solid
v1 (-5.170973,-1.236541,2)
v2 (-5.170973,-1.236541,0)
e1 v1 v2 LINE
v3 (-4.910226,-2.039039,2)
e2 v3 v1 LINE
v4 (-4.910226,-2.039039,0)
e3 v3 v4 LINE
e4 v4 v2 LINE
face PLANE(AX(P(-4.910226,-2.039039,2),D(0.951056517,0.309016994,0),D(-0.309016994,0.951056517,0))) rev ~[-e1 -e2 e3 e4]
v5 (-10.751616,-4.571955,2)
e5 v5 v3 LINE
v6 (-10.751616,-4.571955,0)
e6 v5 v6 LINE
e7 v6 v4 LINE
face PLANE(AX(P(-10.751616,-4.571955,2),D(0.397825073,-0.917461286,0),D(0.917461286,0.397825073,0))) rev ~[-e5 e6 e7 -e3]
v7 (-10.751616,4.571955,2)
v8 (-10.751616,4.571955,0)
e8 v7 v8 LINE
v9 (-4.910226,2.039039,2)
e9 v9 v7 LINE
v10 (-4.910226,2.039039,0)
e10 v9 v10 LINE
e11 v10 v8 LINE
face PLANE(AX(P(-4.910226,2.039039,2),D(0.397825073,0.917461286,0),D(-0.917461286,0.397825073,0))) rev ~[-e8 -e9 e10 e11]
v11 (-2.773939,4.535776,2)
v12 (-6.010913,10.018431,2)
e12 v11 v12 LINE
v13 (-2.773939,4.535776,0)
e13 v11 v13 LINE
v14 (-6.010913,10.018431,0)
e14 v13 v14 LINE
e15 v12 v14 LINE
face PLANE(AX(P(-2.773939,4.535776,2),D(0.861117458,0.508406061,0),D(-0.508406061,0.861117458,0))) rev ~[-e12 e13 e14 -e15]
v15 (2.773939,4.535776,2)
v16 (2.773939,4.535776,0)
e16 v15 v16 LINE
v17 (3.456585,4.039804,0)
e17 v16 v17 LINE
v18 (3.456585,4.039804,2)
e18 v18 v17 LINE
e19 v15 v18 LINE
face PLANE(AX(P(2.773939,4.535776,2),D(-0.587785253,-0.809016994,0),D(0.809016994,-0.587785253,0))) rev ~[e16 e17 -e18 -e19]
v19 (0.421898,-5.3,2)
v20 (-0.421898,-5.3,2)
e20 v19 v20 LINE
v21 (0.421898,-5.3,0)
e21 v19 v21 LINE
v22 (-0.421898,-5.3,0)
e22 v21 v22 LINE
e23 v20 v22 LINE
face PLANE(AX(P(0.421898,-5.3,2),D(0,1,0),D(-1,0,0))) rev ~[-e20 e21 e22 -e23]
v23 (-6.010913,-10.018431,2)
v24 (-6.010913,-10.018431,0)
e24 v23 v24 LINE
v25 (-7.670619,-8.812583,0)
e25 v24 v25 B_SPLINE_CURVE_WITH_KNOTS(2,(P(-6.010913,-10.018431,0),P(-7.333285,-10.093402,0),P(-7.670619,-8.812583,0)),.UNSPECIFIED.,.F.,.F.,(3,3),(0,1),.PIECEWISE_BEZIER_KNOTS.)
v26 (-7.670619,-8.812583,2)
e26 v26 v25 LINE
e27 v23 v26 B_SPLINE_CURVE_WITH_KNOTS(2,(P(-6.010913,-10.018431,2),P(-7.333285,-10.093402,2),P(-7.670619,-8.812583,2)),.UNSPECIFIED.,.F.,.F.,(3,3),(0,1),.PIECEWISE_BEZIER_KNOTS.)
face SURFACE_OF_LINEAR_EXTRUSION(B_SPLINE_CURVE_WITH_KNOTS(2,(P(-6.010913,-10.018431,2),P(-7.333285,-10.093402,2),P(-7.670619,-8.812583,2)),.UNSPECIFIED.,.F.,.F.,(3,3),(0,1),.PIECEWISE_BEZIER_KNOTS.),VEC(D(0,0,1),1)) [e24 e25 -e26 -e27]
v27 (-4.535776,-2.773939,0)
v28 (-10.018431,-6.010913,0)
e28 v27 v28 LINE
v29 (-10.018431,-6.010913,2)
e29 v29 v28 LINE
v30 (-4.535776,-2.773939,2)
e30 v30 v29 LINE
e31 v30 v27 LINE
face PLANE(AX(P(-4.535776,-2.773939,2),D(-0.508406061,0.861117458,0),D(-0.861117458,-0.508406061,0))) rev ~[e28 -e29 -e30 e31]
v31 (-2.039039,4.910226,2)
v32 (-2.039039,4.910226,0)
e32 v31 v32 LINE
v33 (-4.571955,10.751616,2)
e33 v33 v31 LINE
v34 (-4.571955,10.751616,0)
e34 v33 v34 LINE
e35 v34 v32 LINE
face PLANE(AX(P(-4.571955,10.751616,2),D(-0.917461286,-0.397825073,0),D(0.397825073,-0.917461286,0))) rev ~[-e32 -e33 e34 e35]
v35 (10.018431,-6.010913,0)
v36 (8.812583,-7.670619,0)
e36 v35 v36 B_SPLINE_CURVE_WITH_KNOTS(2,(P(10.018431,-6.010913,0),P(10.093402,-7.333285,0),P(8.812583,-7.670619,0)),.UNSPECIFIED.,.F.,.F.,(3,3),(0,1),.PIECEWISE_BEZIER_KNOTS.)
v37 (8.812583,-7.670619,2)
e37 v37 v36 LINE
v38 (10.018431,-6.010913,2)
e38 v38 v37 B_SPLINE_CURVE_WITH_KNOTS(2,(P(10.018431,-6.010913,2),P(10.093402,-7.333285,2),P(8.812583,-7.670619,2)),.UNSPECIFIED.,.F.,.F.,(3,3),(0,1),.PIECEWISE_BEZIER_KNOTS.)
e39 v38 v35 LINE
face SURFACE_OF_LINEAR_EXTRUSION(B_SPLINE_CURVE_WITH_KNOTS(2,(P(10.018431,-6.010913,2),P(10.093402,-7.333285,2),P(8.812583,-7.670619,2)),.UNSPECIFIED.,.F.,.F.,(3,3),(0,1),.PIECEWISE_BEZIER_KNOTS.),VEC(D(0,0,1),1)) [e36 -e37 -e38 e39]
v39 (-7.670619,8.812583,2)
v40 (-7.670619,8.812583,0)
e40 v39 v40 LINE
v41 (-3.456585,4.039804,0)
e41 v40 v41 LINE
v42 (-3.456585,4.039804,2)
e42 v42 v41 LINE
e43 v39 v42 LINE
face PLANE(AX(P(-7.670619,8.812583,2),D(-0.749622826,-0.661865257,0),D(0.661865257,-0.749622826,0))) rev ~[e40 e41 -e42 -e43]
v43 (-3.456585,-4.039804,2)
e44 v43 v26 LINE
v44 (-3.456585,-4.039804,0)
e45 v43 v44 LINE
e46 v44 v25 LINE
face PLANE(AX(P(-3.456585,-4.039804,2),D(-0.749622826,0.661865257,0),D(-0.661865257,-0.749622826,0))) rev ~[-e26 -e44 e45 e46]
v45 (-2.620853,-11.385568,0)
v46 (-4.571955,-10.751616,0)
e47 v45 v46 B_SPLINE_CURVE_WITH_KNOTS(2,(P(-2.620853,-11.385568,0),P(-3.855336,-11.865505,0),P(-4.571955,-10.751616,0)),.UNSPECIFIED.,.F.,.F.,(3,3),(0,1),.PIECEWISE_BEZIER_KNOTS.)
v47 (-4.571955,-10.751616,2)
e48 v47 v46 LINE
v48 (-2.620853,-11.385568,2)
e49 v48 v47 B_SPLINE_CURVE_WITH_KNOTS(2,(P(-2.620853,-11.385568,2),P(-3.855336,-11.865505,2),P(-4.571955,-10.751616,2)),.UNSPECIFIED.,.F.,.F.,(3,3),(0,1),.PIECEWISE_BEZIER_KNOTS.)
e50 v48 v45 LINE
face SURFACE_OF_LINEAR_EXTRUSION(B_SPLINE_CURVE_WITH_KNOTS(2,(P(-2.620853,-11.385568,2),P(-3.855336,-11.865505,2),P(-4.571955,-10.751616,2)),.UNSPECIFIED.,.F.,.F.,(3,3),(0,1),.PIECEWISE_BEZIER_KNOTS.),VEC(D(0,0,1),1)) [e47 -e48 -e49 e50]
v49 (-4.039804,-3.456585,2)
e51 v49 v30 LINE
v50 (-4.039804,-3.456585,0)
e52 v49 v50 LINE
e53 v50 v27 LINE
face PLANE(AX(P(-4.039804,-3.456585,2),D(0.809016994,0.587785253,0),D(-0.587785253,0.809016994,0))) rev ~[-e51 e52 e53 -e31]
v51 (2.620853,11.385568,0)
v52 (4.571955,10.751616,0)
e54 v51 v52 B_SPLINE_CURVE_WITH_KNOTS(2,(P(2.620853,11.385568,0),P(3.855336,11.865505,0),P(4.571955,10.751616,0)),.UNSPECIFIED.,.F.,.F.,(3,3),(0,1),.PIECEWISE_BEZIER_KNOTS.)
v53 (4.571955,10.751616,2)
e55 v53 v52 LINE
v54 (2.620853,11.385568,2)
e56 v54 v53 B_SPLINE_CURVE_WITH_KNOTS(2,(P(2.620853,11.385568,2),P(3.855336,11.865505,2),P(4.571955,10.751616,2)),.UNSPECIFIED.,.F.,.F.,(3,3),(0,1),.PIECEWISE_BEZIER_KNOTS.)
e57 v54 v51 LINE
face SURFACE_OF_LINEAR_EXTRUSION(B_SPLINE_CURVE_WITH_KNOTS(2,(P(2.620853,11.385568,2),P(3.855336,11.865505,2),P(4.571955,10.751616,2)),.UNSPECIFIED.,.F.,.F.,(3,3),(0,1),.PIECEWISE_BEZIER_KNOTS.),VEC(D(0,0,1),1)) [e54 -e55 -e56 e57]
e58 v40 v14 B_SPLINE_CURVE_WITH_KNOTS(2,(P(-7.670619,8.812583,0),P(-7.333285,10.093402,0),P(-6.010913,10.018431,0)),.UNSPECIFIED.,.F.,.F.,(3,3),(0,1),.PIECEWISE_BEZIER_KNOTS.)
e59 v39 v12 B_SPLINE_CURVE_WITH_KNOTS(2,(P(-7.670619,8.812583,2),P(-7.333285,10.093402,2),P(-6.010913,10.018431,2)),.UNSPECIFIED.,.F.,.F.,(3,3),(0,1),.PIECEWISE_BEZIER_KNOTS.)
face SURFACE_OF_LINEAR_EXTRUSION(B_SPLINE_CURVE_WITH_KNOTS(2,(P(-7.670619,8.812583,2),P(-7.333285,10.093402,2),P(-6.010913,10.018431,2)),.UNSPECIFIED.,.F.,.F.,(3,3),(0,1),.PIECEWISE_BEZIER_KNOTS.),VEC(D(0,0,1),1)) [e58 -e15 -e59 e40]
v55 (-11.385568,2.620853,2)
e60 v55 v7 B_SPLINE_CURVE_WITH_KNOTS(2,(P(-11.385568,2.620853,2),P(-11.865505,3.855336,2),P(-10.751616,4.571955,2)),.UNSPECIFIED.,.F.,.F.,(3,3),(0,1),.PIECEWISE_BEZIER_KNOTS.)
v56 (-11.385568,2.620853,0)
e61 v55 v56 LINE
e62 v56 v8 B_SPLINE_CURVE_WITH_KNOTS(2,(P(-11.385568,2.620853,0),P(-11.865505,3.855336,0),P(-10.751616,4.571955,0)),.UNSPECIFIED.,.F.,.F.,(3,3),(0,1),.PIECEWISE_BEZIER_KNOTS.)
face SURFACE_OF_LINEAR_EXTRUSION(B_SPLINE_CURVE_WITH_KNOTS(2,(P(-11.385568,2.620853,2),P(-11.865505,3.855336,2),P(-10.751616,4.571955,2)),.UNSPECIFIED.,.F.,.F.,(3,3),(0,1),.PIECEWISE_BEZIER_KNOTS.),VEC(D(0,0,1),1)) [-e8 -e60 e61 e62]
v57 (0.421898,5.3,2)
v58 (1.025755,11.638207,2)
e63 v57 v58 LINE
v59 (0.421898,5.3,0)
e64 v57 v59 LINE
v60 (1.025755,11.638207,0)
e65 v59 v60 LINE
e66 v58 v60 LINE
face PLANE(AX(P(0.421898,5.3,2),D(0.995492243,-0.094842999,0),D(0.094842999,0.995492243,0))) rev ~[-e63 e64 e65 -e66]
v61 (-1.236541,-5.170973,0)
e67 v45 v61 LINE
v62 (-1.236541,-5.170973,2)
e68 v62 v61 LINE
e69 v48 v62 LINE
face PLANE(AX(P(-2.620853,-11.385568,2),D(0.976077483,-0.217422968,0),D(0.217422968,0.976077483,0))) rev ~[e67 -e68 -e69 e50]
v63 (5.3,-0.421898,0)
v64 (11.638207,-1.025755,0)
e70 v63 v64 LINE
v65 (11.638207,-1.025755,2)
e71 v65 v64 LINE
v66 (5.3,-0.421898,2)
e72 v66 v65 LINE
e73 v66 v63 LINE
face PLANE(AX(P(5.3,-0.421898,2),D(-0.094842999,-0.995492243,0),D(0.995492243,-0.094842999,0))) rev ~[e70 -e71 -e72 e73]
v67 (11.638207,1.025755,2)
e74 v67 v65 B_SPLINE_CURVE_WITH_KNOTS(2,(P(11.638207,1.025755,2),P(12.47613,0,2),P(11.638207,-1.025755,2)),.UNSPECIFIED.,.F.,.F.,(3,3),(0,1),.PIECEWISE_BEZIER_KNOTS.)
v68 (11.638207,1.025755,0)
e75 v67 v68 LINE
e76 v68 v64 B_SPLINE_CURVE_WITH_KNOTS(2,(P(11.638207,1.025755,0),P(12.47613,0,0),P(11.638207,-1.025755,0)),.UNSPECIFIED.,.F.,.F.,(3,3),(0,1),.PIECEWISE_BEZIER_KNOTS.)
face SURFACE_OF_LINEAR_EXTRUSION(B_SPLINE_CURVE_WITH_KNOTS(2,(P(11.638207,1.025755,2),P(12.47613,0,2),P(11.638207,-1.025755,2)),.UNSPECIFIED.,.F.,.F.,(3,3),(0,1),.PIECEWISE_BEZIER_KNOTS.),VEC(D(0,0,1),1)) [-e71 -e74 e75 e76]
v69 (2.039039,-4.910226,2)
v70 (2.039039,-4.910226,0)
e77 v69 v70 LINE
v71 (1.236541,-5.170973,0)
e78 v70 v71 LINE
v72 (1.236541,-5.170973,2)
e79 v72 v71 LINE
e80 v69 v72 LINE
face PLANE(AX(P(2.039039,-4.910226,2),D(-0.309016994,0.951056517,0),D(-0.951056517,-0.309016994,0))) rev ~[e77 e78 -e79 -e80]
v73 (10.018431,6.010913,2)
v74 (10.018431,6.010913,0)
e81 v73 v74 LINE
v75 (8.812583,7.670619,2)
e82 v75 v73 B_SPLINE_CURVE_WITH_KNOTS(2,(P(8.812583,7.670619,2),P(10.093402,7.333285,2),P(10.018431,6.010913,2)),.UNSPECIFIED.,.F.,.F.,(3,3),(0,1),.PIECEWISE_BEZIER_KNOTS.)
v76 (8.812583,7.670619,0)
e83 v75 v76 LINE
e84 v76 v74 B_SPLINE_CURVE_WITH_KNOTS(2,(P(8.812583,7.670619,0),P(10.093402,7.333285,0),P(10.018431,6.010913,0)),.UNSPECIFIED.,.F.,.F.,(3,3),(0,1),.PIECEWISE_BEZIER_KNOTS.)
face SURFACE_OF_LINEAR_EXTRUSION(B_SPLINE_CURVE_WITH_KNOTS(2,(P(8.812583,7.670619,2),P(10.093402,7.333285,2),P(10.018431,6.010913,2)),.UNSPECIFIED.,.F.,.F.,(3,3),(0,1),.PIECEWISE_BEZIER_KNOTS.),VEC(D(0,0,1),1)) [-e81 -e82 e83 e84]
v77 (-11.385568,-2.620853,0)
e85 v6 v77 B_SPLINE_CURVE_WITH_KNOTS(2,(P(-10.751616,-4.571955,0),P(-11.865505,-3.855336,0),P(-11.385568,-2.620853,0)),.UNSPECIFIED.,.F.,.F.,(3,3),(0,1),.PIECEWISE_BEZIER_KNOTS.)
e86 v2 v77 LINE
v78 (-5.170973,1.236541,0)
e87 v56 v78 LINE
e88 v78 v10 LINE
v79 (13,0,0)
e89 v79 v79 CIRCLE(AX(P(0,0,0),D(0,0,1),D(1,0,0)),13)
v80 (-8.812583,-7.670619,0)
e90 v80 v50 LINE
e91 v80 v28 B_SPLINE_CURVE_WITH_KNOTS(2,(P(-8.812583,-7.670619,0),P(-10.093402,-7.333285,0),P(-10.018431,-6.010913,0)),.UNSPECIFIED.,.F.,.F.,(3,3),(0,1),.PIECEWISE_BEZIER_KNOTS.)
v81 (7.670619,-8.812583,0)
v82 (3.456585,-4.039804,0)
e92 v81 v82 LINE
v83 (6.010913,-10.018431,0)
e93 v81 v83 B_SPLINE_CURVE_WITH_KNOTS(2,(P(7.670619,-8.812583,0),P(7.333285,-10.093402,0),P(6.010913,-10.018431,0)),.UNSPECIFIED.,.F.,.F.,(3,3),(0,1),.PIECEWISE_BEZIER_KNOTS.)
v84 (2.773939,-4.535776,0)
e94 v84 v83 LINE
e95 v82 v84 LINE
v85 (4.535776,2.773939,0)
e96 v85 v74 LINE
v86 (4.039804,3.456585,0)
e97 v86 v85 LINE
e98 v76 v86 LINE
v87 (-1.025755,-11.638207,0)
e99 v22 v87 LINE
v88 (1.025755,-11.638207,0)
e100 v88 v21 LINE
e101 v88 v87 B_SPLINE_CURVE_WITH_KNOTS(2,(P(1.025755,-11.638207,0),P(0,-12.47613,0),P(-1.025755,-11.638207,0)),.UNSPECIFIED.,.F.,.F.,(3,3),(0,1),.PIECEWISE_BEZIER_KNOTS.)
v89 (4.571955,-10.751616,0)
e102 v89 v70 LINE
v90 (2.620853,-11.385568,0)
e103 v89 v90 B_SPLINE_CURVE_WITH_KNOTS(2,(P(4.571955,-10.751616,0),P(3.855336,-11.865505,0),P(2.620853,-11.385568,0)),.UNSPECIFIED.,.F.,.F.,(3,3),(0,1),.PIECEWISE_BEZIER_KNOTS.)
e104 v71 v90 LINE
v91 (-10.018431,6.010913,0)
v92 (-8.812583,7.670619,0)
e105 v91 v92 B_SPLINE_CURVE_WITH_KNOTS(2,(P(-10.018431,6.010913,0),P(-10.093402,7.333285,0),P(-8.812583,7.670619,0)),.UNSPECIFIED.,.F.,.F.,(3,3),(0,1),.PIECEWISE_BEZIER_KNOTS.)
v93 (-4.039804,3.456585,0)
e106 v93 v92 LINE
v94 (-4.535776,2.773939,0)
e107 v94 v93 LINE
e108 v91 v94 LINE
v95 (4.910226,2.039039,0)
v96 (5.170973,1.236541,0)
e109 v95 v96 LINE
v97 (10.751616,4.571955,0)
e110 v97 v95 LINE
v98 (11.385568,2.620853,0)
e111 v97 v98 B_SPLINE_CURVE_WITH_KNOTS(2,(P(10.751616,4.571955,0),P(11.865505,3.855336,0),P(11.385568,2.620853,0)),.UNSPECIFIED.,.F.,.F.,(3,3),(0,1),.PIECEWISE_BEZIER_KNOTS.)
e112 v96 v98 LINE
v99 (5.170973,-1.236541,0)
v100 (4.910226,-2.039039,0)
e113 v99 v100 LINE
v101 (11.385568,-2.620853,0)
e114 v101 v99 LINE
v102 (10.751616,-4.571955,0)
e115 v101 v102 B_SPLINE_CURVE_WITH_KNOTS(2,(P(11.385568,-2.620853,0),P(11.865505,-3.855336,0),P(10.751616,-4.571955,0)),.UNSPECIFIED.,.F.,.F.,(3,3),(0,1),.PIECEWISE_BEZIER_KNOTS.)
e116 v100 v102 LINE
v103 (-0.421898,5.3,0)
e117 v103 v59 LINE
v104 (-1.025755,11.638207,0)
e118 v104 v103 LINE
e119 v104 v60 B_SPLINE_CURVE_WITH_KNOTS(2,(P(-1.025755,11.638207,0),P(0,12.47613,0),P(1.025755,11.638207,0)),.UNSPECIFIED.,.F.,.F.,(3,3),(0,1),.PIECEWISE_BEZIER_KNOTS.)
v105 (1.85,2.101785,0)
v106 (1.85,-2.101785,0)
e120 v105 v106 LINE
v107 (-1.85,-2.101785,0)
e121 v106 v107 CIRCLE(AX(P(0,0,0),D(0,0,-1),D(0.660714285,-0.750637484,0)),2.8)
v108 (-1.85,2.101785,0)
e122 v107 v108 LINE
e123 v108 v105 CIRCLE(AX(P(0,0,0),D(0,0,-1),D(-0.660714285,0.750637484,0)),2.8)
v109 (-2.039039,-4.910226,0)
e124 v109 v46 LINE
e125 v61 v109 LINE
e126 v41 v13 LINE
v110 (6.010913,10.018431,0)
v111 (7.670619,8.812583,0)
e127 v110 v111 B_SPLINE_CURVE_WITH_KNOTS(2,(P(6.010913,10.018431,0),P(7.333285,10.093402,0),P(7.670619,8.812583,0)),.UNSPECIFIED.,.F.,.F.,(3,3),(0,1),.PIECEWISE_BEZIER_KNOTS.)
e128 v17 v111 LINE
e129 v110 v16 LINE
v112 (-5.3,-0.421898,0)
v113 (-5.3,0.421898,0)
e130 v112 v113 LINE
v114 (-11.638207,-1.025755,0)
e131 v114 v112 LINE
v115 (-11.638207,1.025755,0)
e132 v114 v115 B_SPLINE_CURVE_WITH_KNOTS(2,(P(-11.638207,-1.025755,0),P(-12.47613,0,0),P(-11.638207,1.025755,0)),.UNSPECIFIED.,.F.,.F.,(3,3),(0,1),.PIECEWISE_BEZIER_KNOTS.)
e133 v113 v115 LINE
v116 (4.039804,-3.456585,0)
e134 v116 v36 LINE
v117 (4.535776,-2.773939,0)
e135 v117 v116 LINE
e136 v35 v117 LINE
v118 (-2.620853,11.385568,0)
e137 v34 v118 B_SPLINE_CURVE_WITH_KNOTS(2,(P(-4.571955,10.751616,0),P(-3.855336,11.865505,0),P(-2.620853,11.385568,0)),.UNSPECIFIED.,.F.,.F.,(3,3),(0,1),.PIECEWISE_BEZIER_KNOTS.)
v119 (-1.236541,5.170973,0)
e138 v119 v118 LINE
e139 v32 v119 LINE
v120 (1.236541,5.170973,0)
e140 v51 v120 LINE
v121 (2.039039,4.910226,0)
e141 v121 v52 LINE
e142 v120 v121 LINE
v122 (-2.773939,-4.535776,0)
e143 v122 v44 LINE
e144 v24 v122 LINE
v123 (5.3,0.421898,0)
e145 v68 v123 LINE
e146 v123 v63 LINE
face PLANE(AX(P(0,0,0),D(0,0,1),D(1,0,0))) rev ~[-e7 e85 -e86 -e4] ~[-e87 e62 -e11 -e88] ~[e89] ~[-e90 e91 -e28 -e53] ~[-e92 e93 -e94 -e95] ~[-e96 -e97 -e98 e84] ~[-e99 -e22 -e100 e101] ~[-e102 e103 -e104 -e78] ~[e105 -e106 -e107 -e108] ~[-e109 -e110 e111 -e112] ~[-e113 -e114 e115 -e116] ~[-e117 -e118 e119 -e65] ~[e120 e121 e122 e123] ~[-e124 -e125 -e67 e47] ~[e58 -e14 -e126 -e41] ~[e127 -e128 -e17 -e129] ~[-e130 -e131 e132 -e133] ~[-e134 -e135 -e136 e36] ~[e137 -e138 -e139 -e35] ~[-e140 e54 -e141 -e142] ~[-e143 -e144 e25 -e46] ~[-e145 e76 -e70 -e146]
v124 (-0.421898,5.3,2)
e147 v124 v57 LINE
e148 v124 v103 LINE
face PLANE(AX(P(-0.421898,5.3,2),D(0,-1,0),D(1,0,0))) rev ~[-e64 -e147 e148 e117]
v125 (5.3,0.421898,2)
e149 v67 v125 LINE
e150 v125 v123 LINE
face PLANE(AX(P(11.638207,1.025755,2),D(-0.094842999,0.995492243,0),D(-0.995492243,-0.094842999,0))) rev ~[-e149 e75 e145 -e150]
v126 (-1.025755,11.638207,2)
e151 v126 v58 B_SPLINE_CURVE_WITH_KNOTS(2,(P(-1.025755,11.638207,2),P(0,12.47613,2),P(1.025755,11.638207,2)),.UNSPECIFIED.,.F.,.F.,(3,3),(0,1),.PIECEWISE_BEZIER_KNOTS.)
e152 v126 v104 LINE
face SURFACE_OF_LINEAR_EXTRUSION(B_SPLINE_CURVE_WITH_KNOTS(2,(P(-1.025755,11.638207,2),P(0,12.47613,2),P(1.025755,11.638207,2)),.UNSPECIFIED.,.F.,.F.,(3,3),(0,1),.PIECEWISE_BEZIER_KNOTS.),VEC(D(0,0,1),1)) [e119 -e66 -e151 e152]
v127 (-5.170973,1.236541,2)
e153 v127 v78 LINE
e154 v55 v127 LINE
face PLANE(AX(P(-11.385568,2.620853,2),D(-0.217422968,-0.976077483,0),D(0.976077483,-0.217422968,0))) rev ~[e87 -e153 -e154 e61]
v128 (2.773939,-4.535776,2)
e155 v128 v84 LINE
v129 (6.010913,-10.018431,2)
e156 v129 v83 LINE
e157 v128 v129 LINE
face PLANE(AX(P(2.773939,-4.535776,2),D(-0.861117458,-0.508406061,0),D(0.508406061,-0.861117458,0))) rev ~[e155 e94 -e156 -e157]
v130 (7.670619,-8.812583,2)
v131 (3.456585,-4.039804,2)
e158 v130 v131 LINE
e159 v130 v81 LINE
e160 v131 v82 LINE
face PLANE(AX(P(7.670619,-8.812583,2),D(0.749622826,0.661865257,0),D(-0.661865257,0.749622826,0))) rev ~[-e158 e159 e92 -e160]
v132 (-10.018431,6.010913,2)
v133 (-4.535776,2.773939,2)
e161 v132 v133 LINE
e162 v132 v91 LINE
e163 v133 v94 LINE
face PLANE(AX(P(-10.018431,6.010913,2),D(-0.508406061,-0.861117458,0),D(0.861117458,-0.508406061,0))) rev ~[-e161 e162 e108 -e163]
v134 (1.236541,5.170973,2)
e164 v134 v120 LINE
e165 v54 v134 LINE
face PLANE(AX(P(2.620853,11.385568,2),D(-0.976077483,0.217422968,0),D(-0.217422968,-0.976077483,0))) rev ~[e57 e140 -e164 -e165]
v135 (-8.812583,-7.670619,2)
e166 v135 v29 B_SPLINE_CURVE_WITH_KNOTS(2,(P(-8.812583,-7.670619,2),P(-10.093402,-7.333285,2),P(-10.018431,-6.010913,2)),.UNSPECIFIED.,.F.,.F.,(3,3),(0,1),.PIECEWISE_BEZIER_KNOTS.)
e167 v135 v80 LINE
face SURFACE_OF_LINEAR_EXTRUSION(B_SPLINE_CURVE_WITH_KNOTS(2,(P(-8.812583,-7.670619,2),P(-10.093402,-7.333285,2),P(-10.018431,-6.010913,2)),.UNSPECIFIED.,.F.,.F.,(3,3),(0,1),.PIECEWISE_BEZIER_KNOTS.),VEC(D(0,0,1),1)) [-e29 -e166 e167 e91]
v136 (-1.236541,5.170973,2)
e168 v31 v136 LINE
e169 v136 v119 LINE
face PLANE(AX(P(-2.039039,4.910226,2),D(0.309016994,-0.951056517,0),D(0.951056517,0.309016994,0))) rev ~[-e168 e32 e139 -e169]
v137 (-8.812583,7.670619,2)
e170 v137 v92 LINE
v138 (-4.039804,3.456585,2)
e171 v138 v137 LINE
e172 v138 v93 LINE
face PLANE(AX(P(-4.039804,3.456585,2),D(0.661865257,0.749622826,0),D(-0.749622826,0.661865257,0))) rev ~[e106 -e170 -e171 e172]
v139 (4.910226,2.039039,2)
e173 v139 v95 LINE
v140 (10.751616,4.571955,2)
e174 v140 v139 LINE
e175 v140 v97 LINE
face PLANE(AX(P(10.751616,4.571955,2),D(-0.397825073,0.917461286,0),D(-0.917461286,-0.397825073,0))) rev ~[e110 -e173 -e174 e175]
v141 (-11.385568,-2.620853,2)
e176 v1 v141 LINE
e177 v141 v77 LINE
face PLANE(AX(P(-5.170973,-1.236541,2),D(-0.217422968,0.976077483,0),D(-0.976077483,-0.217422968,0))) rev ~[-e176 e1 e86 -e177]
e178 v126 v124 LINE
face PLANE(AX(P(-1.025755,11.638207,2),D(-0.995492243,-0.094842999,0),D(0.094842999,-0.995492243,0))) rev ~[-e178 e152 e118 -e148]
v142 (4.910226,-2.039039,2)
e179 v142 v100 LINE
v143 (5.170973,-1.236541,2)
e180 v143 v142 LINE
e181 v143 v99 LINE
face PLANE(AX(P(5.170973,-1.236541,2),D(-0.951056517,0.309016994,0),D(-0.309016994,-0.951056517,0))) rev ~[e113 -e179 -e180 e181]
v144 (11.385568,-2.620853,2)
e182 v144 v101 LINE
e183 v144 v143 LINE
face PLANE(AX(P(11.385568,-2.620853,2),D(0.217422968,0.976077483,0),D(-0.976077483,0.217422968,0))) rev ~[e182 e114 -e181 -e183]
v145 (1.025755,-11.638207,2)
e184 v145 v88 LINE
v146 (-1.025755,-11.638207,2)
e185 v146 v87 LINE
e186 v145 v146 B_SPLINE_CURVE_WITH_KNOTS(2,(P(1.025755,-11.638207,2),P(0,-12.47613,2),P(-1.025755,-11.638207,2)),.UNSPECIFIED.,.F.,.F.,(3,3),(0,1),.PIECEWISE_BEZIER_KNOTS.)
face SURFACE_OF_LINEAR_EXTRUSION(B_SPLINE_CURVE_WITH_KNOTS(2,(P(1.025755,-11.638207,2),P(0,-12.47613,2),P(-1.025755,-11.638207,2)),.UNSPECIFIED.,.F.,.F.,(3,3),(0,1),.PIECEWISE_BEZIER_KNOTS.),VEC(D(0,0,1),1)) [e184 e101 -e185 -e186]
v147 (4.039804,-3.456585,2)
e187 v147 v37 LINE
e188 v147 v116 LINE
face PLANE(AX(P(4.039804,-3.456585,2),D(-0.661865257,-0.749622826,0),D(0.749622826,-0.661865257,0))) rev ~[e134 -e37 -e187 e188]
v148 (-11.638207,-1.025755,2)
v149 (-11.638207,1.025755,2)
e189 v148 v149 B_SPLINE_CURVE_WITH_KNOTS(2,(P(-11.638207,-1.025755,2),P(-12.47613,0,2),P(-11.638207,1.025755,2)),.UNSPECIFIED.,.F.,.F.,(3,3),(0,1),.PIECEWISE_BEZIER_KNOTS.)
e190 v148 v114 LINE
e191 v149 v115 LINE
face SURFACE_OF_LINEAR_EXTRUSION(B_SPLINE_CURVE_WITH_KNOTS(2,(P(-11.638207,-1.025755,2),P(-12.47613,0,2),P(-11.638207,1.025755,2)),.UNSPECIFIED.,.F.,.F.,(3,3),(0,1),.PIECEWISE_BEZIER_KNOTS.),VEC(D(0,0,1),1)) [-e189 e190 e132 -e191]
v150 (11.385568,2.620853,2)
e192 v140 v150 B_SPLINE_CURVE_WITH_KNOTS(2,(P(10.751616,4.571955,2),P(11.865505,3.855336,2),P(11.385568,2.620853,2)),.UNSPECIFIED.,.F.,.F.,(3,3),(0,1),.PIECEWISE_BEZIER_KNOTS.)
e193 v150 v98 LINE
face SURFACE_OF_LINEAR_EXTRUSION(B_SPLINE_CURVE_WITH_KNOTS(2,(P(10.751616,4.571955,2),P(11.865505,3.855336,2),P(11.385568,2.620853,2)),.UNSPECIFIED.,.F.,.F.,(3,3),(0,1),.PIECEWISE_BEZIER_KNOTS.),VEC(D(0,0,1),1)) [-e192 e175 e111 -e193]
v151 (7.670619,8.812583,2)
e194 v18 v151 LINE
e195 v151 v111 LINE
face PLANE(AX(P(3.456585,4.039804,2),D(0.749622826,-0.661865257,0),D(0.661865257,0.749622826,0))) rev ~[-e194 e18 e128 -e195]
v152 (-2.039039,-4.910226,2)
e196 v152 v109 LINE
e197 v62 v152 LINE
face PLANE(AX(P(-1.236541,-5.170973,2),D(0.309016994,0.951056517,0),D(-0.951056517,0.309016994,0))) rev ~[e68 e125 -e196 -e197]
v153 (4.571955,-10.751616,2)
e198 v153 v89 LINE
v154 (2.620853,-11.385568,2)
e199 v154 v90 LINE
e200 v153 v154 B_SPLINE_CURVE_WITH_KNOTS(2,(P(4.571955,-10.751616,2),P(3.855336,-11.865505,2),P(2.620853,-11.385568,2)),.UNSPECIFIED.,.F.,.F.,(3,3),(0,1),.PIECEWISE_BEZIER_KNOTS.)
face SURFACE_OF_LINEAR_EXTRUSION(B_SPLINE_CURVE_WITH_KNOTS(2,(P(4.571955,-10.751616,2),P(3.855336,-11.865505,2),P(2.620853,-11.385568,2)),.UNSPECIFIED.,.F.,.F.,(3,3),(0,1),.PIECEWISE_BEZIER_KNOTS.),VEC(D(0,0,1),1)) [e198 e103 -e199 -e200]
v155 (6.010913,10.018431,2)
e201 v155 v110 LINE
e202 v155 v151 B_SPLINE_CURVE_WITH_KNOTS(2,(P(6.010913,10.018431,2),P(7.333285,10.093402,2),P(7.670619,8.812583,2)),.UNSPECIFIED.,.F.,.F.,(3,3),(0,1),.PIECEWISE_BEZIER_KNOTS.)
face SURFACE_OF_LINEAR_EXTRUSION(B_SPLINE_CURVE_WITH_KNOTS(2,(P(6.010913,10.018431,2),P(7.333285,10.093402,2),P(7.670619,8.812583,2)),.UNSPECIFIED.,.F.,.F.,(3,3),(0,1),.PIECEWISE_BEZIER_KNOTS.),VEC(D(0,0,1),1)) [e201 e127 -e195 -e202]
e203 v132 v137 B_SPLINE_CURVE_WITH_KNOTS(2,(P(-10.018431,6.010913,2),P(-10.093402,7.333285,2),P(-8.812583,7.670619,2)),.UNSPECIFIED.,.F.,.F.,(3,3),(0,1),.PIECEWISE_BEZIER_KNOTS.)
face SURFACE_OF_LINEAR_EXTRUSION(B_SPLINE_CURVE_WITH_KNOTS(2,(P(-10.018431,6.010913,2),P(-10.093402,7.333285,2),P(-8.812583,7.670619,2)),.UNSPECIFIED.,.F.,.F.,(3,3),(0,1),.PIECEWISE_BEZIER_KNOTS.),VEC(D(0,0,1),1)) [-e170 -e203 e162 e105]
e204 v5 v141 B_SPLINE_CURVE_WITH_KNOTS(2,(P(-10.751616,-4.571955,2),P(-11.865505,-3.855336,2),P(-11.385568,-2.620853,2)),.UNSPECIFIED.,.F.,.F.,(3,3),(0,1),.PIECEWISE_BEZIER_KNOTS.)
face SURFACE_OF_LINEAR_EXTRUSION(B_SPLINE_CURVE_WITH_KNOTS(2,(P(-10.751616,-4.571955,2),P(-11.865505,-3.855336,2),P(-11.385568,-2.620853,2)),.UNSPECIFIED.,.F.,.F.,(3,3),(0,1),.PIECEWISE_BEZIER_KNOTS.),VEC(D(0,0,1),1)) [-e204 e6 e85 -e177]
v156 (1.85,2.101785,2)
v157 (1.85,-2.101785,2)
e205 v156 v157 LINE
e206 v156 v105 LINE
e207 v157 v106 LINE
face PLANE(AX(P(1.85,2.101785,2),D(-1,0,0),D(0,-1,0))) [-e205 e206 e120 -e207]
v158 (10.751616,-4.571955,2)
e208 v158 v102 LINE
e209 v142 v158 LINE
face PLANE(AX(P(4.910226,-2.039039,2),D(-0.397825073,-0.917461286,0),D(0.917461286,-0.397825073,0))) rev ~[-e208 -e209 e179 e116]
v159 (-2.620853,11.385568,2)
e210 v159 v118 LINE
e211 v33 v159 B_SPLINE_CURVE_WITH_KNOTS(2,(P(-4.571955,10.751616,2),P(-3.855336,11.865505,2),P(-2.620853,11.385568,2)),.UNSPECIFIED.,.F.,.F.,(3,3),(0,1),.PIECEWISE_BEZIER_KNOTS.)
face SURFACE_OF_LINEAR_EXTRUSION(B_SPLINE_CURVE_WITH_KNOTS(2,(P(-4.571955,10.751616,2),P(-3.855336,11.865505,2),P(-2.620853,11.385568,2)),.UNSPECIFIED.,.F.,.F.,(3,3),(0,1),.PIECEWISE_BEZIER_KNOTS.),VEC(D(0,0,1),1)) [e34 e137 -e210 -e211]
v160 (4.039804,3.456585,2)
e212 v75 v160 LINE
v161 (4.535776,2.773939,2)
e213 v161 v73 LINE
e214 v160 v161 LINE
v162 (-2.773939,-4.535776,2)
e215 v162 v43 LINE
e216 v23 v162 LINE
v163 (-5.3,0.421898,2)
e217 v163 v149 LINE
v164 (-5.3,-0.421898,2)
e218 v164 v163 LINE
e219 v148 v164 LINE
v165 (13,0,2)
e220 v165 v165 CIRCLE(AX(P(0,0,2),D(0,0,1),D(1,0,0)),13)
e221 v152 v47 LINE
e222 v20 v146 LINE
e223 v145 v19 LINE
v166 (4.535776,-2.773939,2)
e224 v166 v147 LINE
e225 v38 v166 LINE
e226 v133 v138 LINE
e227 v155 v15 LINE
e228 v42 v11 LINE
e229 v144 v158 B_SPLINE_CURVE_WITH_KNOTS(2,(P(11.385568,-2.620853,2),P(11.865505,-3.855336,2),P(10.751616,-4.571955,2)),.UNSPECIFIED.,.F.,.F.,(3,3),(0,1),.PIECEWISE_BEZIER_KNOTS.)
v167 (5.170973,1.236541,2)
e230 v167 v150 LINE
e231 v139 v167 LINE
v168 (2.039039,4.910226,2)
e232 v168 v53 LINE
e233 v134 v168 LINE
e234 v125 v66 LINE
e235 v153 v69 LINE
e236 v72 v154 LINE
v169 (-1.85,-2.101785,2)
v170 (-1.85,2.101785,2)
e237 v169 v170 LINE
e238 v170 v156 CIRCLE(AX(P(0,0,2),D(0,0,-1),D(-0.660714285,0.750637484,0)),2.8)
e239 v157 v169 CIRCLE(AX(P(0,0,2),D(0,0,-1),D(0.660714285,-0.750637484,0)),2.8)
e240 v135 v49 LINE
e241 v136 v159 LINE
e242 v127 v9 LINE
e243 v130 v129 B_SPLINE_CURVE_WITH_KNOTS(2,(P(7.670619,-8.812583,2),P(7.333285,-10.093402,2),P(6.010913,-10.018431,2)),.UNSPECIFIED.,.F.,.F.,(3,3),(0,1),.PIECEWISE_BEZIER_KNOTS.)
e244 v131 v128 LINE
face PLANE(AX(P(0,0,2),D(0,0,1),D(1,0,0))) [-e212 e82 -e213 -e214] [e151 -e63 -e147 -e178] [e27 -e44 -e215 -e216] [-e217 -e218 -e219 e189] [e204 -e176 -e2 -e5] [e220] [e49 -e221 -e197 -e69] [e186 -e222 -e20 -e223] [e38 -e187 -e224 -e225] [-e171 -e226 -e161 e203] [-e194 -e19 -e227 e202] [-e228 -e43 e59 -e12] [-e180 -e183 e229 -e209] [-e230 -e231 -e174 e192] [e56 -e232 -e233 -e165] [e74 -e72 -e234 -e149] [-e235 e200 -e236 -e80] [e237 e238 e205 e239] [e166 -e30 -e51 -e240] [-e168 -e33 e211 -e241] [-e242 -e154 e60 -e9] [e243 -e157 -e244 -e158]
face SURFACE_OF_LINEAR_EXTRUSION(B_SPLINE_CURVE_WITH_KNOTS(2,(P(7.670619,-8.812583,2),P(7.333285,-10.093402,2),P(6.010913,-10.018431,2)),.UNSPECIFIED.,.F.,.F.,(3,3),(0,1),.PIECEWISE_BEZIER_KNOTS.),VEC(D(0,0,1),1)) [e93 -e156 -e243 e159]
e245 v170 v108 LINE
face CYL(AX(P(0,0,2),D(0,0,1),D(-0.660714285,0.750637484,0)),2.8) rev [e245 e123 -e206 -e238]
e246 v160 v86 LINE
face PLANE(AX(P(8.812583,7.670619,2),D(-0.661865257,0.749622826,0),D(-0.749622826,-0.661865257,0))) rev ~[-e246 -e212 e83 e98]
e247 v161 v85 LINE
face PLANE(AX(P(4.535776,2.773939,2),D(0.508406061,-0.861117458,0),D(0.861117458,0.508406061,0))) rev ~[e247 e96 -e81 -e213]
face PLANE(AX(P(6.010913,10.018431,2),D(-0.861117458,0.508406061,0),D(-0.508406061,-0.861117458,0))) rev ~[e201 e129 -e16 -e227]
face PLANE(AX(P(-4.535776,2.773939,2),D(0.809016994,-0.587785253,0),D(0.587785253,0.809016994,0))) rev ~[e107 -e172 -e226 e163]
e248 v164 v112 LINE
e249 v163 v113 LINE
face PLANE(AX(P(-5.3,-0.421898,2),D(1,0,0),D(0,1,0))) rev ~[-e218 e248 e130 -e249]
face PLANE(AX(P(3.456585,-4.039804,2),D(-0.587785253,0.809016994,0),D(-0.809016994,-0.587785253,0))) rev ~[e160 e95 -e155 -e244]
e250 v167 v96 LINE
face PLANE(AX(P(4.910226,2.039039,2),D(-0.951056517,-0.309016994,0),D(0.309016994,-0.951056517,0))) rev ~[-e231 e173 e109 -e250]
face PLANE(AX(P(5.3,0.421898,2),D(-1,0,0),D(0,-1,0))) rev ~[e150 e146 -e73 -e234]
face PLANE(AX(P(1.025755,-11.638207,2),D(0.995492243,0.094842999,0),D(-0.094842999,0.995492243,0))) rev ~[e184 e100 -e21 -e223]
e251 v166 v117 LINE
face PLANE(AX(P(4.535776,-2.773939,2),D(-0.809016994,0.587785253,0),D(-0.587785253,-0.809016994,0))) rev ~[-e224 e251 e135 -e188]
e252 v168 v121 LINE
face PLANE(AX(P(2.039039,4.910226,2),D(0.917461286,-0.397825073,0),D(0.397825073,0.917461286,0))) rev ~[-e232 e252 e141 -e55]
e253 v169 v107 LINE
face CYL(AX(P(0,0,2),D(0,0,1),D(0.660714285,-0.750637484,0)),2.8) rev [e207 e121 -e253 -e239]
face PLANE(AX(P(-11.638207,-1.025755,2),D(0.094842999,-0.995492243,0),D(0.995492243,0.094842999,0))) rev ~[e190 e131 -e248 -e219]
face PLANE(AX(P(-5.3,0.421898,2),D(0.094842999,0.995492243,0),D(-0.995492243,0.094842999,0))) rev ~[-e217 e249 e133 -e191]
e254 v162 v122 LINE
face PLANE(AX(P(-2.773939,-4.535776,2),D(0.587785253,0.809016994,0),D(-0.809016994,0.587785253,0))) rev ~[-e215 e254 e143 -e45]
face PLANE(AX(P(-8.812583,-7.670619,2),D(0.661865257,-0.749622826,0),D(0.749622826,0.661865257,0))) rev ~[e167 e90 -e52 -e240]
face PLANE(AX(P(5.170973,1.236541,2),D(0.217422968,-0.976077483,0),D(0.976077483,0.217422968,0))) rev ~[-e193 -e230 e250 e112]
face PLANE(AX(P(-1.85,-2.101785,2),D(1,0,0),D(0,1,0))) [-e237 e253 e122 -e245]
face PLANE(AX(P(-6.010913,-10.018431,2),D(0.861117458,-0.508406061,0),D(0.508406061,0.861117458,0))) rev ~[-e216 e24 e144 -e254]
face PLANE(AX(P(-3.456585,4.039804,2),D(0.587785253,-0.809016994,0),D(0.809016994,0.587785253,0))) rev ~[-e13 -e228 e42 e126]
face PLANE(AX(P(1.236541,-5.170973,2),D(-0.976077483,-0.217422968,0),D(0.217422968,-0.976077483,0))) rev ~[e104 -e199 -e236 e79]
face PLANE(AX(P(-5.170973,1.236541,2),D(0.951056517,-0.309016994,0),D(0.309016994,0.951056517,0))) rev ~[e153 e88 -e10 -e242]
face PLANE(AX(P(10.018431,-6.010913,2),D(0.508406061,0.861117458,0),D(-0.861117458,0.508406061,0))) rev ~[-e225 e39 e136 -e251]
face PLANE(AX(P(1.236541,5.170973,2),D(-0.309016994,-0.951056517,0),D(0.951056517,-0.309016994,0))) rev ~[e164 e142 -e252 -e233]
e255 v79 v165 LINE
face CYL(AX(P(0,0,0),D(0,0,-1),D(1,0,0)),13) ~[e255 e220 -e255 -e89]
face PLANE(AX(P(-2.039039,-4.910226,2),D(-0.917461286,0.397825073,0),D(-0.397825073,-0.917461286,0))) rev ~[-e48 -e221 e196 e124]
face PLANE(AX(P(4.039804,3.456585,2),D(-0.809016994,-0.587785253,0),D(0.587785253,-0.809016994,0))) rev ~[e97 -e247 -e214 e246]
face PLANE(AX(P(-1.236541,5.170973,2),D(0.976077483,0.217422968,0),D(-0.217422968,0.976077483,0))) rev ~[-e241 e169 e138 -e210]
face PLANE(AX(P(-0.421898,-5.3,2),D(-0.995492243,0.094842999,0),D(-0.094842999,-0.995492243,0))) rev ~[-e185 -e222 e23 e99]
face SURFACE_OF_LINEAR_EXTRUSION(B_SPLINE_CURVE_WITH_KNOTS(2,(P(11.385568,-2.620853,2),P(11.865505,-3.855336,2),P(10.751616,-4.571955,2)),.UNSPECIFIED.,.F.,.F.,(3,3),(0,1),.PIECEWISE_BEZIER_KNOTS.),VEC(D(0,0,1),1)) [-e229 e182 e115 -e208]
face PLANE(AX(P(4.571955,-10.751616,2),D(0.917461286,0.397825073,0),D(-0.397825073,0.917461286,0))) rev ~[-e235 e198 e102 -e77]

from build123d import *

# Parameters (mm, degrees)
SKETCH1_R           = 13
BOSS_EXTRUDE1_DEPTH = 2
CUT_EXTRUDE1_DEPTH  = 2
CUT_EXTRUDE2_DEPTH  = 2


with BuildPart() as part:
    # Sketch1 → Boss-Extrude1 (new body)
    with BuildSketch(Plane.XY):
        Circle(SKETCH1_R)
    extrude(amount=BOSS_EXTRUDE1_DEPTH)

    # Sketch2 → Cut-Extrude1 (cut)
    with BuildSketch(Plane.XY.offset(2)):
        with BuildLine():
            Line((1.85, 2.101784956), (1.85, -2.101784956))
            ThreePointArc((1.85, -2.101784956), (0, -2.8), (-1.85, -2.101784956))
            Line((-1.85, -2.101784956), (-1.85, 2.101784956))
            ThreePointArc((-1.85, 2.101784956), (0, 2.8), (1.85, 2.101784956))
        make_face()
    extrude(amount=-CUT_EXTRUDE1_DEPTH, mode=Mode.SUBTRACT)

    # Sketch3 → Cut-Extrude2 (cut)
    with BuildSketch(Plane.XY.offset(2)):
        with BuildLine():
            Line((-0.421898485, 5.3), (0.421898485, 5.3))
            Line((0.421898485, 5.3), (1.025755042, 11.638206547))
            add(Edge.make_bspline(
                [(-1.025755042, 11.638206547), (0, 12.476130474), (1.025755042, 11.638206547)],
                knots=[0, 0, 0, 1, 1, 1], degree=2))
            Line((-1.025755042, 11.638206547), (-0.421898485, 5.3))
        make_face()
        with BuildLine():
            Line((2.039039374, 4.910225735), (4.571954624, 10.751616435))
            add(Edge.make_bspline(
                [(2.62085259, 11.385567915), (3.85533634, 11.865505185), (4.571954624, 10.751616435)],
                knots=[0, 0, 0, 1, 1, 1], degree=2))
            Line((2.62085259, 11.385567915), (1.236540767, 5.170973338))
            Line((1.236540767, 5.170973338), (2.039039374, 4.910225735))
        make_face()
        with BuildLine():
            Line((3.456584881, 4.039804363), (7.670619433, 8.812583195))
            add(Edge.make_bspline(
                [(6.01091291, 10.018430567), (7.333285498, 10.093401577), (7.670619433, 8.812583195)],
                knots=[0, 0, 0, 1, 1, 1], degree=2))
            Line((6.01091291, 10.018430567), (2.773938793, 4.535775778))
            Line((2.773938793, 4.535775778), (3.456584881, 4.039804363))
        make_face()
        with BuildLine():
            Line((4.535775778, 2.773938793), (10.018430567, 6.01091291))
            add(Edge.make_bspline(
                [(8.812583195, 7.670619433), (10.093401577, 7.333285498), (10.018430567, 6.01091291)],
                knots=[0, 0, 0, 1, 1, 1], degree=2))
            Line((8.812583195, 7.670619433), (4.039804363, 3.456584881))
            Line((4.039804363, 3.456584881), (4.535775778, 2.773938793))
        make_face()
        with BuildLine():
            Line((5.170973338, 1.236540767), (11.385567915, 2.62085259))
            add(Edge.make_bspline(
                [(10.751616435, 4.571954624), (11.865505185, 3.85533634), (11.385567915, 2.62085259)],
                knots=[0, 0, 0, 1, 1, 1], degree=2))
            Line((10.751616435, 4.571954624), (4.910225735, 2.039039374))
            Line((4.910225735, 2.039039374), (5.170973338, 1.236540767))
        make_face()
        with BuildLine():
            Line((5.3, -0.421898485), (11.638206547, -1.025755042))
            add(Edge.make_bspline(
                [(11.638206547, 1.025755042), (12.476130474, 0), (11.638206547, -1.025755042)],
                knots=[0, 0, 0, 1, 1, 1], degree=2))
            Line((11.638206547, 1.025755042), (5.3, 0.421898485))
            Line((5.3, 0.421898485), (5.3, -0.421898485))
        make_face()
        with BuildLine():
            Line((4.910225735, -2.039039374), (10.751616435, -4.571954624))
            add(Edge.make_bspline(
                [(11.385567915, -2.62085259), (11.865505185, -3.85533634), (10.751616435, -4.571954624)],
                knots=[0, 0, 0, 1, 1, 1], degree=2))
            Line((11.385567915, -2.62085259), (5.170973338, -1.236540767))
            Line((5.170973338, -1.236540767), (4.910225735, -2.039039374))
        make_face()
        with BuildLine():
            Line((4.039804363, -3.456584881), (8.812583195, -7.670619433))
            add(Edge.make_bspline(
                [(10.018430567, -6.01091291), (10.093401577, -7.333285498), (8.812583195, -7.670619433)],
                knots=[0, 0, 0, 1, 1, 1], degree=2))
            Line((10.018430567, -6.01091291), (4.535775778, -2.773938793))
            Line((4.535775778, -2.773938793), (4.039804363, -3.456584881))
        make_face()
        with BuildLine():
            Line((2.773938793, -4.535775778), (6.01091291, -10.018430567))
            add(Edge.make_bspline(
                [(7.670619433, -8.812583195), (7.333285498, -10.093401577), (6.01091291, -10.018430567)],
                knots=[0, 0, 0, 1, 1, 1], degree=2))
            Line((7.670619433, -8.812583195), (3.456584881, -4.039804363))
            Line((3.456584881, -4.039804363), (2.773938793, -4.535775778))
        make_face()
        with BuildLine():
            Line((1.236540767, -5.170973338), (2.62085259, -11.385567915))
            add(Edge.make_bspline(
                [(4.571954624, -10.751616435), (3.85533634, -11.865505185), (2.62085259, -11.385567915)],
                knots=[0, 0, 0, 1, 1, 1], degree=2))
            Line((4.571954624, -10.751616435), (2.039039374, -4.910225735))
            Line((2.039039374, -4.910225735), (1.236540767, -5.170973338))
        make_face()
        with BuildLine():
            Line((-0.421898485, -5.3), (-1.025755042, -11.638206547))
            add(Edge.make_bspline(
                [(1.025755042, -11.638206547), (0, -12.476130474), (-1.025755042, -11.638206547)],
                knots=[0, 0, 0, 1, 1, 1], degree=2))
            Line((1.025755042, -11.638206547), (0.421898485, -5.3))
            Line((0.421898485, -5.3), (-0.421898485, -5.3))
        make_face()
        with BuildLine():
            Line((-2.039039374, -4.910225735), (-4.571954624, -10.751616435))
            add(Edge.make_bspline(
                [(-2.62085259, -11.385567915), (-3.85533634, -11.865505185), (-4.571954624, -10.751616435)],
                knots=[0, 0, 0, 1, 1, 1], degree=2))
            Line((-2.62085259, -11.385567915), (-1.236540767, -5.170973338))
            Line((-1.236540767, -5.170973338), (-2.039039374, -4.910225735))
        make_face()
        with BuildLine():
            Line((-3.456584881, -4.039804363), (-7.670619433, -8.812583195))
            add(Edge.make_bspline(
                [(-6.01091291, -10.018430567), (-7.333285498, -10.093401577), (-7.670619433, -8.812583195)],
                knots=[0, 0, 0, 1, 1, 1], degree=2))
            Line((-6.01091291, -10.018430567), (-2.773938793, -4.535775778))
            Line((-2.773938793, -4.535775778), (-3.456584881, -4.039804363))
        make_face()
        with BuildLine():
            Line((-4.535775778, -2.773938793), (-10.018430567, -6.01091291))
            add(Edge.make_bspline(
                [(-8.812583195, -7.670619433), (-10.093401577, -7.333285498), (-10.018430567, -6.01091291)],
                knots=[0, 0, 0, 1, 1, 1], degree=2))
            Line((-8.812583195, -7.670619433), (-4.039804363, -3.456584881))
            Line((-4.039804363, -3.456584881), (-4.535775778, -2.773938793))
        make_face()
        with BuildLine():
            Line((-5.170973338, -1.236540767), (-11.385567915, -2.62085259))
            add(Edge.make_bspline(
                [(-10.751616435, -4.571954624), (-11.865505185, -3.85533634), (-11.385567915, -2.62085259)],
                knots=[0, 0, 0, 1, 1, 1], degree=2))
            Line((-10.751616435, -4.571954624), (-4.910225735, -2.039039374))
            Line((-4.910225735, -2.039039374), (-5.170973338, -1.236540767))
        make_face()
        with BuildLine():
            Line((-5.3, 0.421898485), (-11.638206547, 1.025755042))
            add(Edge.make_bspline(
                [(-11.638206547, -1.025755042), (-12.476130474, 0), (-11.638206547, 1.025755042)],
                knots=[0, 0, 0, 1, 1, 1], degree=2))
            Line((-11.638206547, -1.025755042), (-5.3, -0.421898485))
            Line((-5.3, -0.421898485), (-5.3, 0.421898485))
        make_face()
        with BuildLine():
            Line((-4.910225735, 2.039039374), (-10.751616435, 4.571954624))
            add(Edge.make_bspline(
                [(-11.385567915, 2.62085259), (-11.865505185, 3.85533634), (-10.751616435, 4.571954624)],
                knots=[0, 0, 0, 1, 1, 1], degree=2))
            Line((-11.385567915, 2.62085259), (-5.170973338, 1.236540767))
            Line((-5.170973338, 1.236540767), (-4.910225735, 2.039039374))
        make_face()
        with BuildLine():
            Line((-4.039804363, 3.456584881), (-8.812583195, 7.670619433))
            add(Edge.make_bspline(
                [(-10.018430567, 6.01091291), (-10.093401577, 7.333285498), (-8.812583195, 7.670619433)],
                knots=[0, 0, 0, 1, 1, 1], degree=2))
            Line((-10.018430567, 6.01091291), (-4.535775778, 2.773938793))
            Line((-4.535775778, 2.773938793), (-4.039804363, 3.456584881))
        make_face()
        with BuildLine():
            Line((-2.773938793, 4.535775778), (-6.01091291, 10.018430567))
            add(Edge.make_bspline(
                [(-7.670619433, 8.812583195), (-7.333285498, 10.093401577), (-6.01091291, 10.018430567)],
                knots=[0, 0, 0, 1, 1, 1], degree=2))
            Line((-7.670619433, 8.812583195), (-3.456584881, 4.039804363))
            Line((-3.456584881, 4.039804363), (-2.773938793, 4.535775778))
        make_face()
        with BuildLine():
            Line((-1.236540767, 5.170973338), (-2.62085259, 11.385567915))
            add(Edge.make_bspline(
                [(-4.571954624, 10.751616435), (-3.85533634, 11.865505185), (-2.62085259, 11.385567915)],
                knots=[0, 0, 0, 1, 1, 1], degree=2))
            Line((-4.571954624, 10.751616435), (-2.039039374, 4.910225735))
            Line((-2.039039374, 4.910225735), (-1.236540767, 5.170973338))
        make_face()
    extrude(amount=-CUT_EXTRUDE2_DEPTH, mode=Mode.SUBTRACT)


solid = part.part
